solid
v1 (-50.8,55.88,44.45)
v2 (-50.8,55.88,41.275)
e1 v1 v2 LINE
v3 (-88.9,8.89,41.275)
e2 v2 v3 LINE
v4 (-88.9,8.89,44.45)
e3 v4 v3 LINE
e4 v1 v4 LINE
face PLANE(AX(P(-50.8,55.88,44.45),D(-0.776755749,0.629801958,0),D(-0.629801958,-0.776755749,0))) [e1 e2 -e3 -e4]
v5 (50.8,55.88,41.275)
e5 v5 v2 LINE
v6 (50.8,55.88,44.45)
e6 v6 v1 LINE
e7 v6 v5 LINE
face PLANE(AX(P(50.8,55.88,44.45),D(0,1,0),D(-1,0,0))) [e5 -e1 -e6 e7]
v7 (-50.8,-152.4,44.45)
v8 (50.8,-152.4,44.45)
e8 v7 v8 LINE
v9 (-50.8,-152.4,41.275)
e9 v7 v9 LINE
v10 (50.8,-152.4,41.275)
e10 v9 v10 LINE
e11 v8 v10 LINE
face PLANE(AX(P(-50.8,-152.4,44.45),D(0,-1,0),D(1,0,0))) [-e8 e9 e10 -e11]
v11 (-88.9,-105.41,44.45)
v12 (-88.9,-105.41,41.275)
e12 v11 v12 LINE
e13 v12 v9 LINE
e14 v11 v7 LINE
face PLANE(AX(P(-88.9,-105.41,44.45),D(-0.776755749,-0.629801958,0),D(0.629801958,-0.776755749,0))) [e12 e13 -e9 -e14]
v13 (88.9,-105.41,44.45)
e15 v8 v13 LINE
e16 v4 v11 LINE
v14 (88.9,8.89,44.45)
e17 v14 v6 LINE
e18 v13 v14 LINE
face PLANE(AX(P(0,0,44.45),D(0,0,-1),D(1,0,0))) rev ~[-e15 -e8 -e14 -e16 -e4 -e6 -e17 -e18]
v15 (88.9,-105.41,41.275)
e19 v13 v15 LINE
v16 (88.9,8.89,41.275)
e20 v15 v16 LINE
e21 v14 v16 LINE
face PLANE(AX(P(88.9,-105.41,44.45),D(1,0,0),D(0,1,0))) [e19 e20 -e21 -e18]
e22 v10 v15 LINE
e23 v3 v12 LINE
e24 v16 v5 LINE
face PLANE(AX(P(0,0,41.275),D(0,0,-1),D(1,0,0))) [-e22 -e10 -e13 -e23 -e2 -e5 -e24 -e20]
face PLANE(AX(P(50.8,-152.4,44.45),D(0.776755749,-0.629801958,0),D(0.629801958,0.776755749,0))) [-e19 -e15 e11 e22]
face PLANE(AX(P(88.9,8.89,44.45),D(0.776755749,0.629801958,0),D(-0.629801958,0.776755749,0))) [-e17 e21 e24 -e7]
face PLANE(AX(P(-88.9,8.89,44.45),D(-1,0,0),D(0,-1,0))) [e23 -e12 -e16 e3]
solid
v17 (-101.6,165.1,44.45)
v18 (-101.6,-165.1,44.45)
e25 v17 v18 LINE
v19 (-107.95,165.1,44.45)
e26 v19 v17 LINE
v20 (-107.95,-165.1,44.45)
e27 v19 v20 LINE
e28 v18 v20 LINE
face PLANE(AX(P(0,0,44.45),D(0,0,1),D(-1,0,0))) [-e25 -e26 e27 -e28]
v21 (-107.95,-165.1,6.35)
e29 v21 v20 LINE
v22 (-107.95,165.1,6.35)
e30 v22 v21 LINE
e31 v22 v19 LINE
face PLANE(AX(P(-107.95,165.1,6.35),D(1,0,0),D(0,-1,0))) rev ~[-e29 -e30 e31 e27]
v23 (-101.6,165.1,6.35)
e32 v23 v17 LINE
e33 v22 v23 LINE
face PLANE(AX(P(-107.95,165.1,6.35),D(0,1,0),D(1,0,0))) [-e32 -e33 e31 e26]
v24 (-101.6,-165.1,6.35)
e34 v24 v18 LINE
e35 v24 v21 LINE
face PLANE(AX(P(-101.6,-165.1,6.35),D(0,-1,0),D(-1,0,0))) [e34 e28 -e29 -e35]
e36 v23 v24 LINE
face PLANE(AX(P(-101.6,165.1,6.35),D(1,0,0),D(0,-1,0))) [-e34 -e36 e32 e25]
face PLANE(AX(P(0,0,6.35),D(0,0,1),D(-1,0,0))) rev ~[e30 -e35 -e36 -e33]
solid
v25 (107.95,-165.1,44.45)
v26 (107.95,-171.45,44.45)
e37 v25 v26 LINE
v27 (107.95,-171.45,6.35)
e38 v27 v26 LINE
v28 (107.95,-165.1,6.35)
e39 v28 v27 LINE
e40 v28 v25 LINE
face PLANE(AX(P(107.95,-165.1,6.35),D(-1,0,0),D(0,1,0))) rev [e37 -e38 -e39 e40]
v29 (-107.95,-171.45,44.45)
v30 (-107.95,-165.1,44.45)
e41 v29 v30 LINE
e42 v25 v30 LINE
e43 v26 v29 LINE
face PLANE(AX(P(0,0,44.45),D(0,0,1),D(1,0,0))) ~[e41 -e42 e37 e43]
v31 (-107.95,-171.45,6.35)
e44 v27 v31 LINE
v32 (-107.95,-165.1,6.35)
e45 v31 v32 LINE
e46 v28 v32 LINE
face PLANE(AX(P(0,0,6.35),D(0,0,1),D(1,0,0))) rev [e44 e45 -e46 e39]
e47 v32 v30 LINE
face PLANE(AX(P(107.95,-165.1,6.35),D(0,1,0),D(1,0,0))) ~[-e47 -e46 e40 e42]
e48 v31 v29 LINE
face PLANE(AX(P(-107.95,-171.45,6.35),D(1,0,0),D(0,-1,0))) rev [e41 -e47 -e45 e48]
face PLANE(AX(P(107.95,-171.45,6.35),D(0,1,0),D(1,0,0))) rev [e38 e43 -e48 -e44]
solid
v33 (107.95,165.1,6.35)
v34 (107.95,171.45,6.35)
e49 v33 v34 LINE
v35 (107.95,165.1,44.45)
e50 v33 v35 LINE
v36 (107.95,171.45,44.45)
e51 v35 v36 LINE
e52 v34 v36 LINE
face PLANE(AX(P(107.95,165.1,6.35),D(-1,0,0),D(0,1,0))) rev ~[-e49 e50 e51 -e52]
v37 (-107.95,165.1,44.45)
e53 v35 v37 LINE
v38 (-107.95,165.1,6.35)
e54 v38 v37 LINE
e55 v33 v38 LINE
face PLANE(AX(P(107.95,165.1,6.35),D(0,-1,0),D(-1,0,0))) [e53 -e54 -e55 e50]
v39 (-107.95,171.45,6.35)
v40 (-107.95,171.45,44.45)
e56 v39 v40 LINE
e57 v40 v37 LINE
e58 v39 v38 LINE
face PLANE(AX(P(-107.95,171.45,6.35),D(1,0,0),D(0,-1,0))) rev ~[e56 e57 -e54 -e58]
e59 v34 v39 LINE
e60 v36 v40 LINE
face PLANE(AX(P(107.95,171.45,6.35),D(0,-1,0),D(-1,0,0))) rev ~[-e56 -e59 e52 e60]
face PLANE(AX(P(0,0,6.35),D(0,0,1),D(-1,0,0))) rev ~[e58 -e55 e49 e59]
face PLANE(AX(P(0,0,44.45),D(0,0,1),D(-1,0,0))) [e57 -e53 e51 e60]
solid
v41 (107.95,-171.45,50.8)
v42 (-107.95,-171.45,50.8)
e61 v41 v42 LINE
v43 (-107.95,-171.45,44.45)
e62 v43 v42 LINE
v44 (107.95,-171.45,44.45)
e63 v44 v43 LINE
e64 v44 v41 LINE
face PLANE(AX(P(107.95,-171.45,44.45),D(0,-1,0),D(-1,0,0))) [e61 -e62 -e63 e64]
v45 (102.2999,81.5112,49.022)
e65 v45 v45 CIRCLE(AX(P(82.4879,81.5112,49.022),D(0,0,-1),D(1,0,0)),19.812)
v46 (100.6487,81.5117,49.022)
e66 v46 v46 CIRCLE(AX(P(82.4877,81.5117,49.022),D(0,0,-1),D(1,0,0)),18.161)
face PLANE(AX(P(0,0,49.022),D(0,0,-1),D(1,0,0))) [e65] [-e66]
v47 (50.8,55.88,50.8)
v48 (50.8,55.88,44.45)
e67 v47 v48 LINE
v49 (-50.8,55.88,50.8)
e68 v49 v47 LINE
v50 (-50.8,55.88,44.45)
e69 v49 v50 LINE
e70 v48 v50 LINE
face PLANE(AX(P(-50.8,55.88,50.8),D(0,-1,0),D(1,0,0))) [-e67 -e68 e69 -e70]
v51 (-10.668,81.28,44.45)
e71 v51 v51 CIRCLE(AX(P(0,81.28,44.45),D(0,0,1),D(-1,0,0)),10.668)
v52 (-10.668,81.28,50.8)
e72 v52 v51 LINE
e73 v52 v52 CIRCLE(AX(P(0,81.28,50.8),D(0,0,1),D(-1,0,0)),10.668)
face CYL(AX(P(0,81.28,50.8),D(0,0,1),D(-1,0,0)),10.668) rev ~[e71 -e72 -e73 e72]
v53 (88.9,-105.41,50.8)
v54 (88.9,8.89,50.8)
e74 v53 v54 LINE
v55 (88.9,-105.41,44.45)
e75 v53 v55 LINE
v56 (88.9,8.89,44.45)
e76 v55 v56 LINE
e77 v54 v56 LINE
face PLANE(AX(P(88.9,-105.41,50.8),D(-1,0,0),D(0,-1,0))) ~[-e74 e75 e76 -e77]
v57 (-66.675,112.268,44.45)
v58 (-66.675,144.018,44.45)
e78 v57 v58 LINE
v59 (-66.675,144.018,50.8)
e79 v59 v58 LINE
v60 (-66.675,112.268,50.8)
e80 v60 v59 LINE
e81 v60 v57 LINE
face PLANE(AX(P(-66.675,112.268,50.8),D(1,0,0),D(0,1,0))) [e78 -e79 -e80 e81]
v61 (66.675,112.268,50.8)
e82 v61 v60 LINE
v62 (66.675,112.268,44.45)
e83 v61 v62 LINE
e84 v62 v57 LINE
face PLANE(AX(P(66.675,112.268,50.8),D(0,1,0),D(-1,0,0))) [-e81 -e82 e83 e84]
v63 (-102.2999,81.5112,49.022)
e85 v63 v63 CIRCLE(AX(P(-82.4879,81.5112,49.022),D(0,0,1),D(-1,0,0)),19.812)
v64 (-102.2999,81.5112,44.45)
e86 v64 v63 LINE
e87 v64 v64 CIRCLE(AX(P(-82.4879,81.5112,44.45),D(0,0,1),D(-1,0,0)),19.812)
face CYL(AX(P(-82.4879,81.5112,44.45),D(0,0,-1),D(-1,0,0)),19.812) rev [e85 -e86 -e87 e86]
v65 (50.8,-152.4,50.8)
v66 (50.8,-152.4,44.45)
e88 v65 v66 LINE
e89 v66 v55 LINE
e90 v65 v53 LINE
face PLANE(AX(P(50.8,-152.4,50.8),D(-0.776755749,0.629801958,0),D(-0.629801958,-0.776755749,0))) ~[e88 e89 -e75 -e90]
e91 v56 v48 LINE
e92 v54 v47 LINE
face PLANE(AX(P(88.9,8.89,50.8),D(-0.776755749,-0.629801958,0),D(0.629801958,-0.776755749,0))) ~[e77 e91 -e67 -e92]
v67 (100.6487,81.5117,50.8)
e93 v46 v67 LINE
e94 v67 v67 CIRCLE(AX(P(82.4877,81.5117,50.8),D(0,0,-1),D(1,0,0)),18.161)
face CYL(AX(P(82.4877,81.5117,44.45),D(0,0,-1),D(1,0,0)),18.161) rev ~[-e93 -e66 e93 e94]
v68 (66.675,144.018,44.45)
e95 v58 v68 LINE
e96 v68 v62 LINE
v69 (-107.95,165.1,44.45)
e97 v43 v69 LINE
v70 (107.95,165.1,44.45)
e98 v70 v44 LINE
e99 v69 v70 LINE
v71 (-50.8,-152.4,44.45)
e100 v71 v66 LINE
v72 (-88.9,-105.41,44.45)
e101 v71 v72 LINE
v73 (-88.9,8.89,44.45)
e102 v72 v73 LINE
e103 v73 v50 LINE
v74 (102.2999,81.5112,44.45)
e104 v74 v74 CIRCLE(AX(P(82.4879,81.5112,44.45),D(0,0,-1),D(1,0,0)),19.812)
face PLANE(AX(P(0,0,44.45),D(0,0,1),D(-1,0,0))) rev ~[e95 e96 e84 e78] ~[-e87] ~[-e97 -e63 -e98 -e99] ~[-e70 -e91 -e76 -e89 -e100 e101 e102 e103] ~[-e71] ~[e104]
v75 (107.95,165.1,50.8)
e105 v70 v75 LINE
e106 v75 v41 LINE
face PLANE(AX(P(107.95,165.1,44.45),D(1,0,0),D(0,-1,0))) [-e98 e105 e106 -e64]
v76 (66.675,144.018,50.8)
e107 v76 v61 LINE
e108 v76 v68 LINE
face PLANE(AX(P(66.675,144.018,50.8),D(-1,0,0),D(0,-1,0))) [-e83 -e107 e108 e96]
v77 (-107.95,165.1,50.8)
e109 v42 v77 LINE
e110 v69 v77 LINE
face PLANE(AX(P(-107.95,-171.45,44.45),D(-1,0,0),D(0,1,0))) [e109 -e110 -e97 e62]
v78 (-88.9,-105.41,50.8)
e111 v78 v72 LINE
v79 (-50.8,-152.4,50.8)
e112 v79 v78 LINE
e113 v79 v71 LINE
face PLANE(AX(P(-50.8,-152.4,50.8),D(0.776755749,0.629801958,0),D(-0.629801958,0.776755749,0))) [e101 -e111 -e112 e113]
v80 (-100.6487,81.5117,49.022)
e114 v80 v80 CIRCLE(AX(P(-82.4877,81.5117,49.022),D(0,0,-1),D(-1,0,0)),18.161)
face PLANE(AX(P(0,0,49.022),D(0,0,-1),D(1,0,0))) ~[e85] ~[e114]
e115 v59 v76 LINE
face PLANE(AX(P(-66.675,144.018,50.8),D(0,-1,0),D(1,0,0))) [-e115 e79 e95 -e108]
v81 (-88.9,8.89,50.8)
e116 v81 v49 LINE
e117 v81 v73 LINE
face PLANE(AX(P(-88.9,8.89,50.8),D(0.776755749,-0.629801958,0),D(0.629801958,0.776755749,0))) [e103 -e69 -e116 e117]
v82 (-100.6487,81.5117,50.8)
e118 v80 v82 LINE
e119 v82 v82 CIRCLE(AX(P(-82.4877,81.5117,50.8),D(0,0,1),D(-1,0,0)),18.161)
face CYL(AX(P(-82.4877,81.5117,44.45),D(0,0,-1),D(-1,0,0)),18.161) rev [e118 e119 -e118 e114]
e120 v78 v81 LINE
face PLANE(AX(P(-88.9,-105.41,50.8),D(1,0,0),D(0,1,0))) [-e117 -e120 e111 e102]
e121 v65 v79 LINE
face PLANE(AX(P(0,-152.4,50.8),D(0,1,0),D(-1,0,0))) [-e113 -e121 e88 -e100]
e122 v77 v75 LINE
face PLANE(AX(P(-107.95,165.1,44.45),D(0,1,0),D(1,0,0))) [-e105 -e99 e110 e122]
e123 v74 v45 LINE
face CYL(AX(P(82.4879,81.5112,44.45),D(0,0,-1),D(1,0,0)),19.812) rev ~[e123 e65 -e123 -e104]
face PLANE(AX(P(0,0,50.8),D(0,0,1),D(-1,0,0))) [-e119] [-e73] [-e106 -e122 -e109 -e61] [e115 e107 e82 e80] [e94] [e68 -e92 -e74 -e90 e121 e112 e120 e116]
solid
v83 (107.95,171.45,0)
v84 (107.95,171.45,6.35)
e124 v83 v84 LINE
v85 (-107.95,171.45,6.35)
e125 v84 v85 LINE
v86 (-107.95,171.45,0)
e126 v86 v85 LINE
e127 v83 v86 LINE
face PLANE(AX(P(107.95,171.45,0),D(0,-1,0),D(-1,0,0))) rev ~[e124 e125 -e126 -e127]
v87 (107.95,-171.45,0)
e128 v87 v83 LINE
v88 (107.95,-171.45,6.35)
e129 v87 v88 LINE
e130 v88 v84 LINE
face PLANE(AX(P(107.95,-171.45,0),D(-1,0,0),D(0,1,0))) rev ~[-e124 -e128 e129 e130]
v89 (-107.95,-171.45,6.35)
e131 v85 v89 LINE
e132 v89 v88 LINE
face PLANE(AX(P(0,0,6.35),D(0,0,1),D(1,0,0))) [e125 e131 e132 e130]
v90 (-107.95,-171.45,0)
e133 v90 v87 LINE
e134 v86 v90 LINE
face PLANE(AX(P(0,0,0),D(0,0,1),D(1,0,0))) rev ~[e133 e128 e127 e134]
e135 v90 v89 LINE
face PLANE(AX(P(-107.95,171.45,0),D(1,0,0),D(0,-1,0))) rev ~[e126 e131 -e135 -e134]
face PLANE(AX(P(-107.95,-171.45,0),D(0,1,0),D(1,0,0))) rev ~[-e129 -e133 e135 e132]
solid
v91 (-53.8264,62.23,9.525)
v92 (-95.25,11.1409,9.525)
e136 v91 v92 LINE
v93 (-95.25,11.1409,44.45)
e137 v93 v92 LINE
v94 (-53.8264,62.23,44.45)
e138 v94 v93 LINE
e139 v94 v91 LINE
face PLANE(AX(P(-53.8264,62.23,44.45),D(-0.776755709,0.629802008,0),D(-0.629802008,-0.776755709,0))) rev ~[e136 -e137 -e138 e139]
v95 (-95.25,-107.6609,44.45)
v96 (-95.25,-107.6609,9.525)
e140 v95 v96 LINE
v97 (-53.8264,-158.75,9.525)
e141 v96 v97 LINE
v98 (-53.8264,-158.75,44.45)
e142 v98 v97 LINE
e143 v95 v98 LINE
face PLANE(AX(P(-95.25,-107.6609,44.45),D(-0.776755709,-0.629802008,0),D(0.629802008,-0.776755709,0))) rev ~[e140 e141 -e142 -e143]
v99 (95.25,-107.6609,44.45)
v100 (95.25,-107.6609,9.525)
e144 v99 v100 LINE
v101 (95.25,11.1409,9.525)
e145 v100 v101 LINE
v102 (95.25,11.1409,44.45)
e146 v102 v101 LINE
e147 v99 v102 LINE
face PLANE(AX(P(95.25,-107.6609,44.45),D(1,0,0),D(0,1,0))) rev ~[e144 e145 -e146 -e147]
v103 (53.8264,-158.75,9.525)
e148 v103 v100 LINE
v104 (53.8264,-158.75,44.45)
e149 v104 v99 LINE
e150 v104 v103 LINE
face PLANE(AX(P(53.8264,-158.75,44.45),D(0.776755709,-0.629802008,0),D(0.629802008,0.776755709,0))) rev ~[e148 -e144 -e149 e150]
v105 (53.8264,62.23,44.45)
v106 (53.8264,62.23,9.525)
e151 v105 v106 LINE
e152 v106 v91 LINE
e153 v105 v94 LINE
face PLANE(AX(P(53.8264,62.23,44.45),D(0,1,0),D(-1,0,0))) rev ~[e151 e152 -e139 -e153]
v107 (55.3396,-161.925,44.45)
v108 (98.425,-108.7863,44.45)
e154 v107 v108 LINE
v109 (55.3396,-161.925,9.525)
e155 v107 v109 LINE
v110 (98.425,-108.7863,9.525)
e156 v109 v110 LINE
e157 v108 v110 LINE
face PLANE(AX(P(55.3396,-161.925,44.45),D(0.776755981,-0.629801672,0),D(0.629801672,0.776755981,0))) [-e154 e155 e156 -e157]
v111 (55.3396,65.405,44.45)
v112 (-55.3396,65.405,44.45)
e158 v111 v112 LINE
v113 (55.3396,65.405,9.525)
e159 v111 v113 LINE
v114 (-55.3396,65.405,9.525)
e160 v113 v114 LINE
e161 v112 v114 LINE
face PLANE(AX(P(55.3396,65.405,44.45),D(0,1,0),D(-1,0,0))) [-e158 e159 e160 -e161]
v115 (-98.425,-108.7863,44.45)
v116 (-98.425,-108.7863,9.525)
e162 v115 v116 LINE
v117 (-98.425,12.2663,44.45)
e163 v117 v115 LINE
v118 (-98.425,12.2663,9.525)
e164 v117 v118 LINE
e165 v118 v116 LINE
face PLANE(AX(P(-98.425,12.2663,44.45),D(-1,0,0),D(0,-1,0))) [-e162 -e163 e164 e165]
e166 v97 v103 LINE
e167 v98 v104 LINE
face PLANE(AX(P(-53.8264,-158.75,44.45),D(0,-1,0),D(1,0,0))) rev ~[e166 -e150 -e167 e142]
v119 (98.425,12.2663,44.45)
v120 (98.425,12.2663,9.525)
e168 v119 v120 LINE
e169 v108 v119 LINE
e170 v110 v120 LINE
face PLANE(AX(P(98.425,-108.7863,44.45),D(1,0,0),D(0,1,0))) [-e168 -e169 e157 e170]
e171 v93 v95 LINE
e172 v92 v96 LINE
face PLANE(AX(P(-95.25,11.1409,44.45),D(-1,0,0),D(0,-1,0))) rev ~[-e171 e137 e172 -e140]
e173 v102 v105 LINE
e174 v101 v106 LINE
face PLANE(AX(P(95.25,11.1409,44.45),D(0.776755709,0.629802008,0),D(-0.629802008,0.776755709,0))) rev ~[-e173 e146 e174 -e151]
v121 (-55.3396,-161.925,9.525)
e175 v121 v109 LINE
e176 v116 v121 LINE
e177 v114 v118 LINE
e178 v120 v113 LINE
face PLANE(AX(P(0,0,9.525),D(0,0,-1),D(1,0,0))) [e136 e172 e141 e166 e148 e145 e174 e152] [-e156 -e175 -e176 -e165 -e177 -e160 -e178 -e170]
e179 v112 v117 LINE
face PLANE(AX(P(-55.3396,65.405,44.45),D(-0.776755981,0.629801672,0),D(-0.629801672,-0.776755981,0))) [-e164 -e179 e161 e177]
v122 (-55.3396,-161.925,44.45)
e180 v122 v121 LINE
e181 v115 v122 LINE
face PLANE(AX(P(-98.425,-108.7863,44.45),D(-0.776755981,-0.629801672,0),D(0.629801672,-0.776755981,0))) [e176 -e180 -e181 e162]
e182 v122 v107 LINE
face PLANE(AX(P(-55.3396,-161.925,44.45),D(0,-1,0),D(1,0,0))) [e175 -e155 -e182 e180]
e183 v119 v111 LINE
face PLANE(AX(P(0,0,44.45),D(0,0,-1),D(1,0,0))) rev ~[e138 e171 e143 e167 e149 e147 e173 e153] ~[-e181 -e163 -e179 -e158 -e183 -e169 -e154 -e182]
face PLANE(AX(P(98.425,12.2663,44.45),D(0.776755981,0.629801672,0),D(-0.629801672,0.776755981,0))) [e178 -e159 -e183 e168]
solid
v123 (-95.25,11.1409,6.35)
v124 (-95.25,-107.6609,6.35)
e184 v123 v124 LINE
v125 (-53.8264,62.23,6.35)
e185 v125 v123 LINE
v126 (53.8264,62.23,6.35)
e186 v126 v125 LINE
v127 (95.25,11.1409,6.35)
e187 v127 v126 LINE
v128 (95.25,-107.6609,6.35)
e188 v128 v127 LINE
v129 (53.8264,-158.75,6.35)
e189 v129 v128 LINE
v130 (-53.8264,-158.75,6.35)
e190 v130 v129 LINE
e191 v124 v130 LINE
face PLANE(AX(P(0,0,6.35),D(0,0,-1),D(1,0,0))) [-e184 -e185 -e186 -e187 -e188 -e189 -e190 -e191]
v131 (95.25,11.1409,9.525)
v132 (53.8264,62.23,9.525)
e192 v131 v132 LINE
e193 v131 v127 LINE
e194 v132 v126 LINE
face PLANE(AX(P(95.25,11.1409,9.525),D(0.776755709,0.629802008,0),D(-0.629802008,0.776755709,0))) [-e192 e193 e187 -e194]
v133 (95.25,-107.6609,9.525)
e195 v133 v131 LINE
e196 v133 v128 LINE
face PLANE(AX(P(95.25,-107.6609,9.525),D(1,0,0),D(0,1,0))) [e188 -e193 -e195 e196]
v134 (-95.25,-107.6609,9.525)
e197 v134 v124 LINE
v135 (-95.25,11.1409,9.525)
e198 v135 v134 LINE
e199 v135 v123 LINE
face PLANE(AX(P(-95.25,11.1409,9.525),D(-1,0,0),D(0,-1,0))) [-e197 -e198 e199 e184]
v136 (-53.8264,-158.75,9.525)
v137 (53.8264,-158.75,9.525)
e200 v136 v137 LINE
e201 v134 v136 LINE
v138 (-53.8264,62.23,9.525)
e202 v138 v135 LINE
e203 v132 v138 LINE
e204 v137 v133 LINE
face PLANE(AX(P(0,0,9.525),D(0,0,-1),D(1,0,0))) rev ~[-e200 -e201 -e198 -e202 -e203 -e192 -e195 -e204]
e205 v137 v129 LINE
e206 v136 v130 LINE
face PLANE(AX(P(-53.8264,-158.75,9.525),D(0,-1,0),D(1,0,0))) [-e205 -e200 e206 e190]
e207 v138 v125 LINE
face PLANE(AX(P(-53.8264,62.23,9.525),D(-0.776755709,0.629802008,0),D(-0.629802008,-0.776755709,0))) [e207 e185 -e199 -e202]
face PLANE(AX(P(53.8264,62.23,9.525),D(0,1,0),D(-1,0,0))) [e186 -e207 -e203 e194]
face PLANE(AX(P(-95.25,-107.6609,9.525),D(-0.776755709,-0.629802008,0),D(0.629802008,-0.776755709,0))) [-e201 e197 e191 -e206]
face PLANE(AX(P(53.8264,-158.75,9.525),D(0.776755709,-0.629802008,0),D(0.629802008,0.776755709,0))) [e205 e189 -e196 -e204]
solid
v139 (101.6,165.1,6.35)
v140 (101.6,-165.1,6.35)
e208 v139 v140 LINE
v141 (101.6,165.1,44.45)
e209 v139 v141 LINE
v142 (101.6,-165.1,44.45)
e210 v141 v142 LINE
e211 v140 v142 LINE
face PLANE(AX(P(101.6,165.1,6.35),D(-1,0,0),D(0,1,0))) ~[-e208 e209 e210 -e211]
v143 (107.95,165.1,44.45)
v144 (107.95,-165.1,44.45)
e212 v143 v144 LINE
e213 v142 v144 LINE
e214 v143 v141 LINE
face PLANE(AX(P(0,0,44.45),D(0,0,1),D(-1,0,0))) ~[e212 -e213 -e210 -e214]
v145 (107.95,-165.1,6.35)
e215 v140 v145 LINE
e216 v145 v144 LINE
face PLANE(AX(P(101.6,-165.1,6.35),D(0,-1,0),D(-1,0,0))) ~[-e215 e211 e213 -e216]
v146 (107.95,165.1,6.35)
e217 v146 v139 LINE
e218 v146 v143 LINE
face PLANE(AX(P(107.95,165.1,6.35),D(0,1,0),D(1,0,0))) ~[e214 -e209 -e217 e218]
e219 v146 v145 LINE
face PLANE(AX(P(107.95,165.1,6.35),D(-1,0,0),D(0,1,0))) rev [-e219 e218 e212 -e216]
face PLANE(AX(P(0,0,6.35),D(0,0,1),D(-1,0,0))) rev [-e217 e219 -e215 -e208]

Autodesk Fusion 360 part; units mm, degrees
sketch "Sketch1" plane through (0, 0, 0) normal (0, 0, 1) x (1, 0, 0) in component "Back"
  line L0 (107.95, 171.45) -> (-107.95, 171.45)
  line L1 (-107.95, 171.45) -> (-107.95, -171.45)
  line L2 (-107.95, -171.45) -> (107.95, -171.45)
  line L3 (107.95, -171.45) -> (107.95, 171.45)
  line L4 (107.95, 171.45) -> (-107.95, -171.45) construction
  line L5 (-107.95, 171.45) -> (107.95, -171.45) construction
  dimension "d1" = 215.9
  dimension "d2" = 342.9
extrude "Extrude1" add sketch "Sketch1" along normal blind 6.35 makes body 1 in component "Back"
ref_plane "WorkPlane1" through (0, 131.445, 0) normal (0, 1, 0) x (0, 0, 1) in component "Top/Bottom"
sketch "Sketch1 (2)" plane through (0, 131.445, 0) normal (0, 1, 0) x (1, 0, 0) in component "Top/Bottom"
  line L0 (-101.6, 0) -> (102.87, 0)
  line L1 (102.87, 0) -> (102.87, -50.8)
  line L2 (102.87, -50.8) -> (-101.6, -50.8)
  line L3 (-101.6, -50.8) -> (-101.6, 0)
  dimension "d36" = 204.47
  dimension "d37" = 50.8
sketch "Sketch4" plane through (0, 0, 6.35) normal (0, 0, 1) x (-1, 0, 0) in component "Top/Bottom"
  line L0 (-107.95, 171.45) -> (-107.95, -171.45)
  line L1 (-107.95, -171.45) -> (107.95, -171.45)
  line L2 (107.95, -171.45) -> (107.95, 171.45)
  line L3 (107.95, 171.45) -> (-107.95, 171.45)
  line L4 (107.95, -171.45) -> (-107.95, -171.45)
  line L5 (-107.95, -171.45) -> (-107.95, -165.1)
  line L6 (-107.95, -165.1) -> (107.95, -165.1)
  line L7 (107.95, -165.1) -> (107.95, -171.45)
  dimension "d43" = 215.9
  dimension "d44" = 6.35
extrude "Extrude2" add sketch "Sketch4" along normal blind 38.1 separate body contours L0 L1 L2 L4 L5 L6 L7 makes body 2 in component "Top/Bottom"
mirror "Mirror1" about plane through (0, 0, 0) normal (0, 1, 0) of bodies 2 makes body 3 in component "Top/Bottom"
sketch "Sketch1 (3)" plane through (0, 0, 6.35) normal (0, 0, 1) x (-1, 0, 0) in component "Left"
  line L0 (-107.95, 171.45) -> (-107.95, -171.45)
  line L1 (-107.95, -171.45) -> (107.95, -171.45)
  line L2 (107.95, -171.45) -> (107.95, 171.45)
  line L3 (107.95, 171.45) -> (-107.95, 171.45)
  line L4 (107.95, -171.45) -> (107.95, -165.1) construction
  line L5 (107.95, -165.1) -> (101.6, -165.1)
  line L6 (101.6, -165.1) -> (101.6, 165.1)
  line L7 (101.6, 165.1) -> (107.95, 165.1)
  line L8 (107.95, 165.1) -> (107.95, -165.1)
  dimension "d49" = 6.35
  dimension "d50" = 330.2
extrude "Extrude1'" add sketch "Sketch1 (3)" along normal blind 38.1 separate body contours L2 L5 L6 L7 L8 makes body 4 in component "Left"
mirror "Mirror1'" about plane through (0, 0, 0) normal (1, 0, 0) of bodies 4 makes body 5 in component "Left"
sketch "Sketch1 (4)" plane through (0, 0, 44.45) normal (0, 0, 1) x (-1, 0, 0) in component "Lid"
  line L0 (107.95, -165.1) -> (-107.95, -165.1)
  line L1 (-107.95, -165.1) -> (-107.95, -171.45)
  line L2 (-107.95, -171.45) -> (107.95, -171.45)
  line L3 (107.95, -171.45) -> (107.95, -165.1)
  line L4 (107.95, -171.45) -> (-107.95, -171.45)
  line L5 (-107.95, -171.45) -> (-107.95, 171.45)
  line L6 (-107.95, 171.45) -> (107.95, 171.45)
  line L7 (107.95, 171.45) -> (107.95, -171.45)
  dimension "d55" = 215.9
  dimension "d56" = 342.9
extrude "Extrude1''" add sketch "Sketch1 (4)" along normal blind 6.35 separate body contours L0 L5 L6 L7 makes body 6 in component "Lid"
sketch "Sketch2" plane through (0, 0, 50.8) normal (0, 0, 1) x (-1, 0, 0) in component "Lid"
  line L0 (107.95, 171.45) -> (-107.95, 171.45)
  line L1 (-107.95, 171.45) -> (-107.95, -165.1)
  line L2 (-107.95, -165.1) -> (107.95, -165.1)
  line L3 (107.95, -165.1) -> (107.95, 171.45)
  line L4 (0, 171.45) -> (0, 152.4) construction
  line L5 (0, 152.4) -> (0, -50.8) construction
  line L6 (0, -50.8) -> (0, 50.8) construction
  line L7 (0, 50.8) -> (57.15, 50.8) construction
  line L8 (0, 152.4) -> (50.8, 152.4)
  line L9 (50.8, 152.4) -> (50.8, 105.41) construction
  line L10 (50.8, 105.41) -> (88.9, 105.41) construction
  line L11 (50.8, 152.4) -> (88.9, 105.41)
  line L12 (88.9, 105.41) -> (88.9, -8.89)
  line L13 (88.9, -8.89) -> (50.8, -8.89) construction
  line L14 (50.8, -8.89) -> (50.8, -55.88) construction
  line L15 (88.9, -8.89) -> (50.8, -55.88)
  line L16 (50.8, -55.88) -> (0, -55.88)
  line L17 (0, -55.88) -> (0, 152.4)
  dimension "d59" = 19.05
  dimension "d60" = 203.2
  dimension "d61" = 101.6
  dimension "d62" = 57.15
  dimension "d63" = 50.8
  dimension "d64" = 46.99
  dimension "d65" = 38.1
  dimension "d66" = 114.3
  dimension "d67" = 38.1
  dimension "d68" = 46.99
  dimension "d69" = 50.8
extrude "Extrude2'" cut sketch "Sketch2" against normal up to surface (6.35 mm away) contours L8 L11 L12 L15 L16 L17 bodies 6 in component "Lid"
mirror "Mirror1''" about plane through (0, 0, 0) normal (1, 0, 0) of "Extrude2'" in component "Lid"
sketch "Sketch3" plane through (0, 0, 50.8) normal (0, 0, 1) x (-1, 0, 0) in component "Lid"
  line L0 (107.95, 171.45) -> (-107.95, 171.45)
  line L1 (-107.95, 171.45) -> (-107.95, -165.1)
  line L2 (-107.95, -165.1) -> (107.95, -165.1)
  line L3 (107.95, -165.1) -> (107.95, 171.45)
  line L4 (50.8, -55.88) -> (-50.8, -55.88)
  line L5 (-50.8, -55.88) -> (-88.9, -8.89)
  line L6 (-88.9, -8.89) -> (-88.9, 105.41)
  line L7 (-88.9, 105.41) -> (-50.8, 152.4)
  line L8 (-50.8, 152.4) -> (50.8, 152.4)
  line L9 (50.8, 152.4) -> (88.9, 105.41)
  line L10 (88.9, 105.41) -> (88.9, -8.89)
  line L11 (88.9, -8.89) -> (50.8, -55.88)
  circle A0 centre (0, -81.28) radius 10.668
  dimension "d74" = 21.336
  dimension "d75" = 25.4
extrude "Extrude3" cut sketch "Sketch3" against normal up to surface (6.35 mm away) contours A0 bodies 6 in component "Lid"
sketch "Sketch4 (2)" plane through (0, 0, 50.8) normal (0, 0, 1) x (-1, 0, 0) in component "Lid"
  circle A0 centre (0, -81.28) radius 10.668
  line L0 (107.95, 171.45) -> (-107.95, 171.45)
  line L1 (-107.95, 171.45) -> (-107.95, -165.1)
  line L2 (-107.95, -165.1) -> (107.95, -165.1)
  line L3 (107.95, -165.1) -> (107.95, 171.45)
  line L4 (50.8, -55.88) -> (-50.8, -55.88)
  line L5 (-50.8, -55.88) -> (-88.9, -8.89)
  line L6 (-88.9, -8.89) -> (-88.9, 105.41)
  line L7 (-88.9, 105.41) -> (-50.8, 152.4)
  line L8 (-50.8, 152.4) -> (50.8, 152.4)
  line L9 (50.8, 152.4) -> (88.9, 105.41)
  line L10 (88.9, 105.41) -> (88.9, -8.89)
  line L11 (88.9, -8.89) -> (50.8, -55.88)
  line L12 (66.675, -144.018) -> (-66.675, -144.018)
  line L13 (-66.675, -144.018) -> (-66.675, -112.268)
  line L14 (-66.675, -112.268) -> (66.675, -112.268)
  line L15 (66.675, -112.268) -> (66.675, -144.018)
  line L16 (66.675, -144.018) -> (-66.675, -112.268) construction
  line L17 (-66.675, -144.018) -> (66.675, -112.268) construction
  point P0 (0, -128.143)
  dimension "d78" = 133.35
  dimension "d79" = 31.75
  dimension "d80" = 30.988
extrude "Extrude4" cut sketch "Sketch4 (2)" against normal up to surface (6.35 mm away) contours L12 L13 L14 L15 bodies 6 in component "Lid"
sketch "Sketch5" plane through (0, 0, 44.45) normal (0, 0, -1) x (1, 0, 0) in component "Lid"
  line L0 (-66.675, -144.018) -> (-66.675, -112.268)
  line L1 (-66.675, -112.268) -> (66.675, -112.268)
  line L2 (66.675, -112.268) -> (66.675, -144.018)
  line L3 (66.675, -144.018) -> (-66.675, -144.018)
  circle A0 centre (0, -81.28) radius 10.668
  line L4 (50.8, -55.88) -> (-50.8, -55.88)
  line L5 (-50.8, -55.88) -> (-88.9, -8.89)
  line L6 (-88.9, -8.89) -> (-88.9, 105.41)
  line L7 (-88.9, 105.41) -> (-50.8, 152.4)
  line L8 (-50.8, 152.4) -> (50.8, 152.4)
  line L9 (50.8, 152.4) -> (88.9, 105.41)
  line L10 (88.9, 105.41) -> (88.9, -8.89)
  line L11 (88.9, -8.89) -> (50.8, -55.88)
  line L12 (107.95, 171.45) -> (-107.95, 171.45)
  line L13 (-107.95, 171.45) -> (-107.95, -165.1)
  line L14 (-107.95, -165.1) -> (107.95, -165.1)
  line L15 (107.95, -165.1) -> (107.95, 171.45)
  line L16 (-88.9, -8.89) -> (-50.8, -55.88)
  line L17 (-50.8, -55.88) -> (50.8, -55.88)
  line L18 (-88.9, 105.41) -> (-88.9, -8.89)
  line L19 (50.8, -55.88) -> (88.9, -8.89)
  line L20 (88.9, -8.89) -> (88.9, 105.41)
  line L21 (88.9, 105.41) -> (50.8, 152.4)
  line L22 (-50.8, 152.4) -> (-88.9, 105.41)
  line L23 (50.8, 152.4) -> (-50.8, 152.4)
  line L24 (-50.8, -55.88) -> (50.8, -55.88)
  line L25 (50.8, -55.88) -> (88.9, -8.89)
  line L26 (88.9, 105.41) -> (50.8, 152.4)
  line L27 (50.8, 152.4) -> (-50.8, 152.4)
  line L28 (-50.8, 152.4) -> (-88.9, 105.41)
  line L29 (-88.9, 105.41) -> (-88.9, -8.89)
  line L30 (-88.9, -8.89) -> (-50.8, -55.88)
sketch "Sketch1 (5)" plane through (0, 0, 44.45) normal (0, 0, -1) x (1, 0, 0) in component "Punch Box"
  line L0 (-50.8, 152.4) -> (50.8, 152.4)
  line L1 (-88.9, 105.41) -> (-50.8, 152.4)
  line L2 (-88.9, -8.89) -> (-88.9, 105.41)
  line L3 (-50.8, -55.88) -> (-88.9, -8.89)
  line L4 (50.8, -55.88) -> (-50.8, -55.88)
  line L5 (88.9, -8.89) -> (50.8, -55.88)
  line L6 (88.9, 105.41) -> (88.9, -8.89)
  line L7 (50.8, 152.4) -> (88.9, 105.41)
  line L8 (53.8264, 158.75) -> (95.25, 107.6609)
  line L9 (95.25, 107.6609) -> (95.25, -11.1409)
  line L10 (95.25, -11.1409) -> (53.8264, -62.23)
  line L11 (53.8264, -62.23) -> (-53.8264, -62.23)
  line L12 (-53.8264, -62.23) -> (-95.25, -11.1409)
  line L13 (-95.25, -11.1409) -> (-95.25, 107.6609)
  line L14 (-95.25, 107.6609) -> (-53.8264, 158.75)
  line L15 (-53.8264, 158.75) -> (53.8264, 158.75)
  line L16 (98.425, 108.7863) -> (98.425, -12.2663)
  line L17 (98.425, -12.2663) -> (55.3396, -65.405)
  line L18 (55.3396, -65.405) -> (-55.3396, -65.405)
  line L19 (-55.3396, -65.405) -> (-98.425, -12.2663)
  line L20 (-98.425, -12.2663) -> (-98.425, 108.7863)
  line L21 (-98.425, 108.7863) -> (-55.3396, 161.925)
  line L22 (-55.3396, 161.925) -> (55.3396, 161.925)
  line L23 (55.3396, 161.925) -> (98.425, 108.7863)
  dimension "d83" = -6.35
  dimension "d84" = -9.525
extrude "Extrude1'''" add sketch "Sketch1 (5)" along normal blind 34.925 separate body contours L16 L17 L18 L19 L20 L21 L22 L23 makes body 7 in component "Punch Box"
sketch "Sketch5 (2)" plane through (0, 0, 9.525) normal (0, 0, -1) x (1, 0, 0) in component "Punch Box"
  line L0 (-95.25, 107.6609) -> (-53.8264, 158.75)
  line L1 (-53.8264, 158.75) -> (53.8264, 158.75)
  line L2 (53.8264, 158.75) -> (95.25, 107.6609)
  line L3 (95.25, 107.6609) -> (95.25, -11.1409)
  line L4 (95.25, -11.1409) -> (53.8264, -62.23)
  line L5 (53.8264, -62.23) -> (-53.8264, -62.23)
  line L6 (-53.8264, -62.23) -> (-95.25, -11.1409)
  line L7 (-95.25, -11.1409) -> (-95.25, 107.6609)
  line L8 (55.3396, 161.925) -> (-55.3396, 161.925)
  line L9 (-55.3396, 161.925) -> (-98.425, 108.7863)
  line L10 (-98.425, 108.7863) -> (-98.425, -12.2663)
  line L11 (-98.425, -12.2663) -> (-55.3396, -65.405)
  line L12 (-55.3396, -65.405) -> (55.3396, -65.405)
  line L13 (55.3396, -65.405) -> (98.425, -12.2663)
  line L14 (98.425, -12.2663) -> (98.425, 108.7863)
  line L15 (98.425, 108.7863) -> (55.3396, 161.925)
  line L16 (55.3396, -65.405) -> (-55.3396, -65.405)
  line L17 (-55.3396, -65.405) -> (-98.425, -12.2663)
  line L18 (-98.425, 108.7863) -> (-98.425, -12.2663)
  line L19 (-98.425, 108.7863) -> (-55.3396, 161.925)
  line L20 (-55.3396, 161.925) -> (55.3396, 161.925)
  line L21 (98.425, 108.7863) -> (55.3396, 161.925)
  line L22 (98.425, 108.7863) -> (98.425, -12.2663)
  line L23 (98.425, -12.2663) -> (55.3396, -65.405)
extrude "Extrude2''" add sketch "Sketch5 (2)" along normal blind 3.175 separate body contours L0 L1 L2 L3 L4 L5 L6 L7 makes body 8 in component "Punch Box"
sketch "Sketch1 (6)" plane through (0, 0, 44.45) normal (0, 0, -1) x (1, 0, 0) in component "Punch Pad"
  line L0 (53.8264, -62.23) -> (-53.8264, -62.23)
  line L1 (-53.8264, -62.23) -> (-95.25, -11.1409)
  line L2 (-95.25, -11.1409) -> (-95.25, 107.6609)
  line L3 (95.25, -11.1409) -> (53.8264, -62.23)
  line L4 (95.25, 107.6609) -> (95.25, -11.1409)
  line L5 (53.8264, 158.75) -> (95.25, 107.6609)
  line L6 (-53.8264, 158.75) -> (53.8264, 158.75)
  line L7 (-95.25, 107.6609) -> (-53.8264, 158.75)
extrude "Extrude1''''" add sketch "Sketch1 (5)" along normal blind 3.175 separate body contours L0 L1 L2 L3 L4 L5 L6 L7 makes body 9 in component "Punch Pad"
sketch "Sketch8" plane through (0, 0, 44.45) normal (0, 0, -1) x (1, 0, 0) in component "Lid"
  line L0 (107.8877, -81.5117) -> (82.4877, -81.5117) construction
  circle A0 centre (82.4877, -81.5117) radius 18.161
  dimension "d91" = 25.4
  dimension "d92" = 36.322
extrude "Extrude5" cut sketch "Sketch8" against normal up to surface (6.35 mm away) bodies 6 in component "Lid"
sketch "Sketch9" plane through (0, 0, 44.45) normal (0, 0, -1) x (1, 0, 0) in component "Lid"
  circle A0 centre (82.4879, -81.5112) radius 19.812
  dimension "d95" = 39.624
extrude "Extrude6" cut sketch "Sketch9" against normal up to surface (4.572 mm away) bodies 6 in component "Lid"
mirror "Mirror2" about plane through (0, 0, 0) normal (1, 0, 0) of "Extrude6", "Extrude5" in component "Lid"
component "Back" placed x (1, 0, 0) y (0, 1, 0) z (0, 0, 1) at (0, 0, 0)
component "Top/Bottom" placed x (1, 0, 0) y (0, 1, 0) z (0, 0, 1) at (0, 0, 0)
component "Left" placed x (1, 0, 0) y (0, 1, 0) z (0, 0, 1) at (0, 0, 0)
component "Right" placed x (1, 0, 0) y (0, 1, 0) z (0, 0, 1) at (0, 0, 0)
component "Lid" placed x (1, 0, 0) y (0, 1, 0) z (0, 0, 1) at (0, 0, 0)
component "Punch Box" placed x (1, 0, 0) y (0, 1, 0) z (0, 0, 1) at (0, 0, 0)
component "Punch Pad" placed x (1, 0, 0) y (0, 1, 0) z (0, 0, 1) at (0, 0, 0)
equation "d3 = ( 1 / 4 ) * 1 in"
equation "d85 = 1.50 in - ( 1 / 8 ) * 1 in"
equation "d87 = ( 1 / 8 ) * 1 in"
equation "d89 = ( 1 / 8 ) * 1 in"
